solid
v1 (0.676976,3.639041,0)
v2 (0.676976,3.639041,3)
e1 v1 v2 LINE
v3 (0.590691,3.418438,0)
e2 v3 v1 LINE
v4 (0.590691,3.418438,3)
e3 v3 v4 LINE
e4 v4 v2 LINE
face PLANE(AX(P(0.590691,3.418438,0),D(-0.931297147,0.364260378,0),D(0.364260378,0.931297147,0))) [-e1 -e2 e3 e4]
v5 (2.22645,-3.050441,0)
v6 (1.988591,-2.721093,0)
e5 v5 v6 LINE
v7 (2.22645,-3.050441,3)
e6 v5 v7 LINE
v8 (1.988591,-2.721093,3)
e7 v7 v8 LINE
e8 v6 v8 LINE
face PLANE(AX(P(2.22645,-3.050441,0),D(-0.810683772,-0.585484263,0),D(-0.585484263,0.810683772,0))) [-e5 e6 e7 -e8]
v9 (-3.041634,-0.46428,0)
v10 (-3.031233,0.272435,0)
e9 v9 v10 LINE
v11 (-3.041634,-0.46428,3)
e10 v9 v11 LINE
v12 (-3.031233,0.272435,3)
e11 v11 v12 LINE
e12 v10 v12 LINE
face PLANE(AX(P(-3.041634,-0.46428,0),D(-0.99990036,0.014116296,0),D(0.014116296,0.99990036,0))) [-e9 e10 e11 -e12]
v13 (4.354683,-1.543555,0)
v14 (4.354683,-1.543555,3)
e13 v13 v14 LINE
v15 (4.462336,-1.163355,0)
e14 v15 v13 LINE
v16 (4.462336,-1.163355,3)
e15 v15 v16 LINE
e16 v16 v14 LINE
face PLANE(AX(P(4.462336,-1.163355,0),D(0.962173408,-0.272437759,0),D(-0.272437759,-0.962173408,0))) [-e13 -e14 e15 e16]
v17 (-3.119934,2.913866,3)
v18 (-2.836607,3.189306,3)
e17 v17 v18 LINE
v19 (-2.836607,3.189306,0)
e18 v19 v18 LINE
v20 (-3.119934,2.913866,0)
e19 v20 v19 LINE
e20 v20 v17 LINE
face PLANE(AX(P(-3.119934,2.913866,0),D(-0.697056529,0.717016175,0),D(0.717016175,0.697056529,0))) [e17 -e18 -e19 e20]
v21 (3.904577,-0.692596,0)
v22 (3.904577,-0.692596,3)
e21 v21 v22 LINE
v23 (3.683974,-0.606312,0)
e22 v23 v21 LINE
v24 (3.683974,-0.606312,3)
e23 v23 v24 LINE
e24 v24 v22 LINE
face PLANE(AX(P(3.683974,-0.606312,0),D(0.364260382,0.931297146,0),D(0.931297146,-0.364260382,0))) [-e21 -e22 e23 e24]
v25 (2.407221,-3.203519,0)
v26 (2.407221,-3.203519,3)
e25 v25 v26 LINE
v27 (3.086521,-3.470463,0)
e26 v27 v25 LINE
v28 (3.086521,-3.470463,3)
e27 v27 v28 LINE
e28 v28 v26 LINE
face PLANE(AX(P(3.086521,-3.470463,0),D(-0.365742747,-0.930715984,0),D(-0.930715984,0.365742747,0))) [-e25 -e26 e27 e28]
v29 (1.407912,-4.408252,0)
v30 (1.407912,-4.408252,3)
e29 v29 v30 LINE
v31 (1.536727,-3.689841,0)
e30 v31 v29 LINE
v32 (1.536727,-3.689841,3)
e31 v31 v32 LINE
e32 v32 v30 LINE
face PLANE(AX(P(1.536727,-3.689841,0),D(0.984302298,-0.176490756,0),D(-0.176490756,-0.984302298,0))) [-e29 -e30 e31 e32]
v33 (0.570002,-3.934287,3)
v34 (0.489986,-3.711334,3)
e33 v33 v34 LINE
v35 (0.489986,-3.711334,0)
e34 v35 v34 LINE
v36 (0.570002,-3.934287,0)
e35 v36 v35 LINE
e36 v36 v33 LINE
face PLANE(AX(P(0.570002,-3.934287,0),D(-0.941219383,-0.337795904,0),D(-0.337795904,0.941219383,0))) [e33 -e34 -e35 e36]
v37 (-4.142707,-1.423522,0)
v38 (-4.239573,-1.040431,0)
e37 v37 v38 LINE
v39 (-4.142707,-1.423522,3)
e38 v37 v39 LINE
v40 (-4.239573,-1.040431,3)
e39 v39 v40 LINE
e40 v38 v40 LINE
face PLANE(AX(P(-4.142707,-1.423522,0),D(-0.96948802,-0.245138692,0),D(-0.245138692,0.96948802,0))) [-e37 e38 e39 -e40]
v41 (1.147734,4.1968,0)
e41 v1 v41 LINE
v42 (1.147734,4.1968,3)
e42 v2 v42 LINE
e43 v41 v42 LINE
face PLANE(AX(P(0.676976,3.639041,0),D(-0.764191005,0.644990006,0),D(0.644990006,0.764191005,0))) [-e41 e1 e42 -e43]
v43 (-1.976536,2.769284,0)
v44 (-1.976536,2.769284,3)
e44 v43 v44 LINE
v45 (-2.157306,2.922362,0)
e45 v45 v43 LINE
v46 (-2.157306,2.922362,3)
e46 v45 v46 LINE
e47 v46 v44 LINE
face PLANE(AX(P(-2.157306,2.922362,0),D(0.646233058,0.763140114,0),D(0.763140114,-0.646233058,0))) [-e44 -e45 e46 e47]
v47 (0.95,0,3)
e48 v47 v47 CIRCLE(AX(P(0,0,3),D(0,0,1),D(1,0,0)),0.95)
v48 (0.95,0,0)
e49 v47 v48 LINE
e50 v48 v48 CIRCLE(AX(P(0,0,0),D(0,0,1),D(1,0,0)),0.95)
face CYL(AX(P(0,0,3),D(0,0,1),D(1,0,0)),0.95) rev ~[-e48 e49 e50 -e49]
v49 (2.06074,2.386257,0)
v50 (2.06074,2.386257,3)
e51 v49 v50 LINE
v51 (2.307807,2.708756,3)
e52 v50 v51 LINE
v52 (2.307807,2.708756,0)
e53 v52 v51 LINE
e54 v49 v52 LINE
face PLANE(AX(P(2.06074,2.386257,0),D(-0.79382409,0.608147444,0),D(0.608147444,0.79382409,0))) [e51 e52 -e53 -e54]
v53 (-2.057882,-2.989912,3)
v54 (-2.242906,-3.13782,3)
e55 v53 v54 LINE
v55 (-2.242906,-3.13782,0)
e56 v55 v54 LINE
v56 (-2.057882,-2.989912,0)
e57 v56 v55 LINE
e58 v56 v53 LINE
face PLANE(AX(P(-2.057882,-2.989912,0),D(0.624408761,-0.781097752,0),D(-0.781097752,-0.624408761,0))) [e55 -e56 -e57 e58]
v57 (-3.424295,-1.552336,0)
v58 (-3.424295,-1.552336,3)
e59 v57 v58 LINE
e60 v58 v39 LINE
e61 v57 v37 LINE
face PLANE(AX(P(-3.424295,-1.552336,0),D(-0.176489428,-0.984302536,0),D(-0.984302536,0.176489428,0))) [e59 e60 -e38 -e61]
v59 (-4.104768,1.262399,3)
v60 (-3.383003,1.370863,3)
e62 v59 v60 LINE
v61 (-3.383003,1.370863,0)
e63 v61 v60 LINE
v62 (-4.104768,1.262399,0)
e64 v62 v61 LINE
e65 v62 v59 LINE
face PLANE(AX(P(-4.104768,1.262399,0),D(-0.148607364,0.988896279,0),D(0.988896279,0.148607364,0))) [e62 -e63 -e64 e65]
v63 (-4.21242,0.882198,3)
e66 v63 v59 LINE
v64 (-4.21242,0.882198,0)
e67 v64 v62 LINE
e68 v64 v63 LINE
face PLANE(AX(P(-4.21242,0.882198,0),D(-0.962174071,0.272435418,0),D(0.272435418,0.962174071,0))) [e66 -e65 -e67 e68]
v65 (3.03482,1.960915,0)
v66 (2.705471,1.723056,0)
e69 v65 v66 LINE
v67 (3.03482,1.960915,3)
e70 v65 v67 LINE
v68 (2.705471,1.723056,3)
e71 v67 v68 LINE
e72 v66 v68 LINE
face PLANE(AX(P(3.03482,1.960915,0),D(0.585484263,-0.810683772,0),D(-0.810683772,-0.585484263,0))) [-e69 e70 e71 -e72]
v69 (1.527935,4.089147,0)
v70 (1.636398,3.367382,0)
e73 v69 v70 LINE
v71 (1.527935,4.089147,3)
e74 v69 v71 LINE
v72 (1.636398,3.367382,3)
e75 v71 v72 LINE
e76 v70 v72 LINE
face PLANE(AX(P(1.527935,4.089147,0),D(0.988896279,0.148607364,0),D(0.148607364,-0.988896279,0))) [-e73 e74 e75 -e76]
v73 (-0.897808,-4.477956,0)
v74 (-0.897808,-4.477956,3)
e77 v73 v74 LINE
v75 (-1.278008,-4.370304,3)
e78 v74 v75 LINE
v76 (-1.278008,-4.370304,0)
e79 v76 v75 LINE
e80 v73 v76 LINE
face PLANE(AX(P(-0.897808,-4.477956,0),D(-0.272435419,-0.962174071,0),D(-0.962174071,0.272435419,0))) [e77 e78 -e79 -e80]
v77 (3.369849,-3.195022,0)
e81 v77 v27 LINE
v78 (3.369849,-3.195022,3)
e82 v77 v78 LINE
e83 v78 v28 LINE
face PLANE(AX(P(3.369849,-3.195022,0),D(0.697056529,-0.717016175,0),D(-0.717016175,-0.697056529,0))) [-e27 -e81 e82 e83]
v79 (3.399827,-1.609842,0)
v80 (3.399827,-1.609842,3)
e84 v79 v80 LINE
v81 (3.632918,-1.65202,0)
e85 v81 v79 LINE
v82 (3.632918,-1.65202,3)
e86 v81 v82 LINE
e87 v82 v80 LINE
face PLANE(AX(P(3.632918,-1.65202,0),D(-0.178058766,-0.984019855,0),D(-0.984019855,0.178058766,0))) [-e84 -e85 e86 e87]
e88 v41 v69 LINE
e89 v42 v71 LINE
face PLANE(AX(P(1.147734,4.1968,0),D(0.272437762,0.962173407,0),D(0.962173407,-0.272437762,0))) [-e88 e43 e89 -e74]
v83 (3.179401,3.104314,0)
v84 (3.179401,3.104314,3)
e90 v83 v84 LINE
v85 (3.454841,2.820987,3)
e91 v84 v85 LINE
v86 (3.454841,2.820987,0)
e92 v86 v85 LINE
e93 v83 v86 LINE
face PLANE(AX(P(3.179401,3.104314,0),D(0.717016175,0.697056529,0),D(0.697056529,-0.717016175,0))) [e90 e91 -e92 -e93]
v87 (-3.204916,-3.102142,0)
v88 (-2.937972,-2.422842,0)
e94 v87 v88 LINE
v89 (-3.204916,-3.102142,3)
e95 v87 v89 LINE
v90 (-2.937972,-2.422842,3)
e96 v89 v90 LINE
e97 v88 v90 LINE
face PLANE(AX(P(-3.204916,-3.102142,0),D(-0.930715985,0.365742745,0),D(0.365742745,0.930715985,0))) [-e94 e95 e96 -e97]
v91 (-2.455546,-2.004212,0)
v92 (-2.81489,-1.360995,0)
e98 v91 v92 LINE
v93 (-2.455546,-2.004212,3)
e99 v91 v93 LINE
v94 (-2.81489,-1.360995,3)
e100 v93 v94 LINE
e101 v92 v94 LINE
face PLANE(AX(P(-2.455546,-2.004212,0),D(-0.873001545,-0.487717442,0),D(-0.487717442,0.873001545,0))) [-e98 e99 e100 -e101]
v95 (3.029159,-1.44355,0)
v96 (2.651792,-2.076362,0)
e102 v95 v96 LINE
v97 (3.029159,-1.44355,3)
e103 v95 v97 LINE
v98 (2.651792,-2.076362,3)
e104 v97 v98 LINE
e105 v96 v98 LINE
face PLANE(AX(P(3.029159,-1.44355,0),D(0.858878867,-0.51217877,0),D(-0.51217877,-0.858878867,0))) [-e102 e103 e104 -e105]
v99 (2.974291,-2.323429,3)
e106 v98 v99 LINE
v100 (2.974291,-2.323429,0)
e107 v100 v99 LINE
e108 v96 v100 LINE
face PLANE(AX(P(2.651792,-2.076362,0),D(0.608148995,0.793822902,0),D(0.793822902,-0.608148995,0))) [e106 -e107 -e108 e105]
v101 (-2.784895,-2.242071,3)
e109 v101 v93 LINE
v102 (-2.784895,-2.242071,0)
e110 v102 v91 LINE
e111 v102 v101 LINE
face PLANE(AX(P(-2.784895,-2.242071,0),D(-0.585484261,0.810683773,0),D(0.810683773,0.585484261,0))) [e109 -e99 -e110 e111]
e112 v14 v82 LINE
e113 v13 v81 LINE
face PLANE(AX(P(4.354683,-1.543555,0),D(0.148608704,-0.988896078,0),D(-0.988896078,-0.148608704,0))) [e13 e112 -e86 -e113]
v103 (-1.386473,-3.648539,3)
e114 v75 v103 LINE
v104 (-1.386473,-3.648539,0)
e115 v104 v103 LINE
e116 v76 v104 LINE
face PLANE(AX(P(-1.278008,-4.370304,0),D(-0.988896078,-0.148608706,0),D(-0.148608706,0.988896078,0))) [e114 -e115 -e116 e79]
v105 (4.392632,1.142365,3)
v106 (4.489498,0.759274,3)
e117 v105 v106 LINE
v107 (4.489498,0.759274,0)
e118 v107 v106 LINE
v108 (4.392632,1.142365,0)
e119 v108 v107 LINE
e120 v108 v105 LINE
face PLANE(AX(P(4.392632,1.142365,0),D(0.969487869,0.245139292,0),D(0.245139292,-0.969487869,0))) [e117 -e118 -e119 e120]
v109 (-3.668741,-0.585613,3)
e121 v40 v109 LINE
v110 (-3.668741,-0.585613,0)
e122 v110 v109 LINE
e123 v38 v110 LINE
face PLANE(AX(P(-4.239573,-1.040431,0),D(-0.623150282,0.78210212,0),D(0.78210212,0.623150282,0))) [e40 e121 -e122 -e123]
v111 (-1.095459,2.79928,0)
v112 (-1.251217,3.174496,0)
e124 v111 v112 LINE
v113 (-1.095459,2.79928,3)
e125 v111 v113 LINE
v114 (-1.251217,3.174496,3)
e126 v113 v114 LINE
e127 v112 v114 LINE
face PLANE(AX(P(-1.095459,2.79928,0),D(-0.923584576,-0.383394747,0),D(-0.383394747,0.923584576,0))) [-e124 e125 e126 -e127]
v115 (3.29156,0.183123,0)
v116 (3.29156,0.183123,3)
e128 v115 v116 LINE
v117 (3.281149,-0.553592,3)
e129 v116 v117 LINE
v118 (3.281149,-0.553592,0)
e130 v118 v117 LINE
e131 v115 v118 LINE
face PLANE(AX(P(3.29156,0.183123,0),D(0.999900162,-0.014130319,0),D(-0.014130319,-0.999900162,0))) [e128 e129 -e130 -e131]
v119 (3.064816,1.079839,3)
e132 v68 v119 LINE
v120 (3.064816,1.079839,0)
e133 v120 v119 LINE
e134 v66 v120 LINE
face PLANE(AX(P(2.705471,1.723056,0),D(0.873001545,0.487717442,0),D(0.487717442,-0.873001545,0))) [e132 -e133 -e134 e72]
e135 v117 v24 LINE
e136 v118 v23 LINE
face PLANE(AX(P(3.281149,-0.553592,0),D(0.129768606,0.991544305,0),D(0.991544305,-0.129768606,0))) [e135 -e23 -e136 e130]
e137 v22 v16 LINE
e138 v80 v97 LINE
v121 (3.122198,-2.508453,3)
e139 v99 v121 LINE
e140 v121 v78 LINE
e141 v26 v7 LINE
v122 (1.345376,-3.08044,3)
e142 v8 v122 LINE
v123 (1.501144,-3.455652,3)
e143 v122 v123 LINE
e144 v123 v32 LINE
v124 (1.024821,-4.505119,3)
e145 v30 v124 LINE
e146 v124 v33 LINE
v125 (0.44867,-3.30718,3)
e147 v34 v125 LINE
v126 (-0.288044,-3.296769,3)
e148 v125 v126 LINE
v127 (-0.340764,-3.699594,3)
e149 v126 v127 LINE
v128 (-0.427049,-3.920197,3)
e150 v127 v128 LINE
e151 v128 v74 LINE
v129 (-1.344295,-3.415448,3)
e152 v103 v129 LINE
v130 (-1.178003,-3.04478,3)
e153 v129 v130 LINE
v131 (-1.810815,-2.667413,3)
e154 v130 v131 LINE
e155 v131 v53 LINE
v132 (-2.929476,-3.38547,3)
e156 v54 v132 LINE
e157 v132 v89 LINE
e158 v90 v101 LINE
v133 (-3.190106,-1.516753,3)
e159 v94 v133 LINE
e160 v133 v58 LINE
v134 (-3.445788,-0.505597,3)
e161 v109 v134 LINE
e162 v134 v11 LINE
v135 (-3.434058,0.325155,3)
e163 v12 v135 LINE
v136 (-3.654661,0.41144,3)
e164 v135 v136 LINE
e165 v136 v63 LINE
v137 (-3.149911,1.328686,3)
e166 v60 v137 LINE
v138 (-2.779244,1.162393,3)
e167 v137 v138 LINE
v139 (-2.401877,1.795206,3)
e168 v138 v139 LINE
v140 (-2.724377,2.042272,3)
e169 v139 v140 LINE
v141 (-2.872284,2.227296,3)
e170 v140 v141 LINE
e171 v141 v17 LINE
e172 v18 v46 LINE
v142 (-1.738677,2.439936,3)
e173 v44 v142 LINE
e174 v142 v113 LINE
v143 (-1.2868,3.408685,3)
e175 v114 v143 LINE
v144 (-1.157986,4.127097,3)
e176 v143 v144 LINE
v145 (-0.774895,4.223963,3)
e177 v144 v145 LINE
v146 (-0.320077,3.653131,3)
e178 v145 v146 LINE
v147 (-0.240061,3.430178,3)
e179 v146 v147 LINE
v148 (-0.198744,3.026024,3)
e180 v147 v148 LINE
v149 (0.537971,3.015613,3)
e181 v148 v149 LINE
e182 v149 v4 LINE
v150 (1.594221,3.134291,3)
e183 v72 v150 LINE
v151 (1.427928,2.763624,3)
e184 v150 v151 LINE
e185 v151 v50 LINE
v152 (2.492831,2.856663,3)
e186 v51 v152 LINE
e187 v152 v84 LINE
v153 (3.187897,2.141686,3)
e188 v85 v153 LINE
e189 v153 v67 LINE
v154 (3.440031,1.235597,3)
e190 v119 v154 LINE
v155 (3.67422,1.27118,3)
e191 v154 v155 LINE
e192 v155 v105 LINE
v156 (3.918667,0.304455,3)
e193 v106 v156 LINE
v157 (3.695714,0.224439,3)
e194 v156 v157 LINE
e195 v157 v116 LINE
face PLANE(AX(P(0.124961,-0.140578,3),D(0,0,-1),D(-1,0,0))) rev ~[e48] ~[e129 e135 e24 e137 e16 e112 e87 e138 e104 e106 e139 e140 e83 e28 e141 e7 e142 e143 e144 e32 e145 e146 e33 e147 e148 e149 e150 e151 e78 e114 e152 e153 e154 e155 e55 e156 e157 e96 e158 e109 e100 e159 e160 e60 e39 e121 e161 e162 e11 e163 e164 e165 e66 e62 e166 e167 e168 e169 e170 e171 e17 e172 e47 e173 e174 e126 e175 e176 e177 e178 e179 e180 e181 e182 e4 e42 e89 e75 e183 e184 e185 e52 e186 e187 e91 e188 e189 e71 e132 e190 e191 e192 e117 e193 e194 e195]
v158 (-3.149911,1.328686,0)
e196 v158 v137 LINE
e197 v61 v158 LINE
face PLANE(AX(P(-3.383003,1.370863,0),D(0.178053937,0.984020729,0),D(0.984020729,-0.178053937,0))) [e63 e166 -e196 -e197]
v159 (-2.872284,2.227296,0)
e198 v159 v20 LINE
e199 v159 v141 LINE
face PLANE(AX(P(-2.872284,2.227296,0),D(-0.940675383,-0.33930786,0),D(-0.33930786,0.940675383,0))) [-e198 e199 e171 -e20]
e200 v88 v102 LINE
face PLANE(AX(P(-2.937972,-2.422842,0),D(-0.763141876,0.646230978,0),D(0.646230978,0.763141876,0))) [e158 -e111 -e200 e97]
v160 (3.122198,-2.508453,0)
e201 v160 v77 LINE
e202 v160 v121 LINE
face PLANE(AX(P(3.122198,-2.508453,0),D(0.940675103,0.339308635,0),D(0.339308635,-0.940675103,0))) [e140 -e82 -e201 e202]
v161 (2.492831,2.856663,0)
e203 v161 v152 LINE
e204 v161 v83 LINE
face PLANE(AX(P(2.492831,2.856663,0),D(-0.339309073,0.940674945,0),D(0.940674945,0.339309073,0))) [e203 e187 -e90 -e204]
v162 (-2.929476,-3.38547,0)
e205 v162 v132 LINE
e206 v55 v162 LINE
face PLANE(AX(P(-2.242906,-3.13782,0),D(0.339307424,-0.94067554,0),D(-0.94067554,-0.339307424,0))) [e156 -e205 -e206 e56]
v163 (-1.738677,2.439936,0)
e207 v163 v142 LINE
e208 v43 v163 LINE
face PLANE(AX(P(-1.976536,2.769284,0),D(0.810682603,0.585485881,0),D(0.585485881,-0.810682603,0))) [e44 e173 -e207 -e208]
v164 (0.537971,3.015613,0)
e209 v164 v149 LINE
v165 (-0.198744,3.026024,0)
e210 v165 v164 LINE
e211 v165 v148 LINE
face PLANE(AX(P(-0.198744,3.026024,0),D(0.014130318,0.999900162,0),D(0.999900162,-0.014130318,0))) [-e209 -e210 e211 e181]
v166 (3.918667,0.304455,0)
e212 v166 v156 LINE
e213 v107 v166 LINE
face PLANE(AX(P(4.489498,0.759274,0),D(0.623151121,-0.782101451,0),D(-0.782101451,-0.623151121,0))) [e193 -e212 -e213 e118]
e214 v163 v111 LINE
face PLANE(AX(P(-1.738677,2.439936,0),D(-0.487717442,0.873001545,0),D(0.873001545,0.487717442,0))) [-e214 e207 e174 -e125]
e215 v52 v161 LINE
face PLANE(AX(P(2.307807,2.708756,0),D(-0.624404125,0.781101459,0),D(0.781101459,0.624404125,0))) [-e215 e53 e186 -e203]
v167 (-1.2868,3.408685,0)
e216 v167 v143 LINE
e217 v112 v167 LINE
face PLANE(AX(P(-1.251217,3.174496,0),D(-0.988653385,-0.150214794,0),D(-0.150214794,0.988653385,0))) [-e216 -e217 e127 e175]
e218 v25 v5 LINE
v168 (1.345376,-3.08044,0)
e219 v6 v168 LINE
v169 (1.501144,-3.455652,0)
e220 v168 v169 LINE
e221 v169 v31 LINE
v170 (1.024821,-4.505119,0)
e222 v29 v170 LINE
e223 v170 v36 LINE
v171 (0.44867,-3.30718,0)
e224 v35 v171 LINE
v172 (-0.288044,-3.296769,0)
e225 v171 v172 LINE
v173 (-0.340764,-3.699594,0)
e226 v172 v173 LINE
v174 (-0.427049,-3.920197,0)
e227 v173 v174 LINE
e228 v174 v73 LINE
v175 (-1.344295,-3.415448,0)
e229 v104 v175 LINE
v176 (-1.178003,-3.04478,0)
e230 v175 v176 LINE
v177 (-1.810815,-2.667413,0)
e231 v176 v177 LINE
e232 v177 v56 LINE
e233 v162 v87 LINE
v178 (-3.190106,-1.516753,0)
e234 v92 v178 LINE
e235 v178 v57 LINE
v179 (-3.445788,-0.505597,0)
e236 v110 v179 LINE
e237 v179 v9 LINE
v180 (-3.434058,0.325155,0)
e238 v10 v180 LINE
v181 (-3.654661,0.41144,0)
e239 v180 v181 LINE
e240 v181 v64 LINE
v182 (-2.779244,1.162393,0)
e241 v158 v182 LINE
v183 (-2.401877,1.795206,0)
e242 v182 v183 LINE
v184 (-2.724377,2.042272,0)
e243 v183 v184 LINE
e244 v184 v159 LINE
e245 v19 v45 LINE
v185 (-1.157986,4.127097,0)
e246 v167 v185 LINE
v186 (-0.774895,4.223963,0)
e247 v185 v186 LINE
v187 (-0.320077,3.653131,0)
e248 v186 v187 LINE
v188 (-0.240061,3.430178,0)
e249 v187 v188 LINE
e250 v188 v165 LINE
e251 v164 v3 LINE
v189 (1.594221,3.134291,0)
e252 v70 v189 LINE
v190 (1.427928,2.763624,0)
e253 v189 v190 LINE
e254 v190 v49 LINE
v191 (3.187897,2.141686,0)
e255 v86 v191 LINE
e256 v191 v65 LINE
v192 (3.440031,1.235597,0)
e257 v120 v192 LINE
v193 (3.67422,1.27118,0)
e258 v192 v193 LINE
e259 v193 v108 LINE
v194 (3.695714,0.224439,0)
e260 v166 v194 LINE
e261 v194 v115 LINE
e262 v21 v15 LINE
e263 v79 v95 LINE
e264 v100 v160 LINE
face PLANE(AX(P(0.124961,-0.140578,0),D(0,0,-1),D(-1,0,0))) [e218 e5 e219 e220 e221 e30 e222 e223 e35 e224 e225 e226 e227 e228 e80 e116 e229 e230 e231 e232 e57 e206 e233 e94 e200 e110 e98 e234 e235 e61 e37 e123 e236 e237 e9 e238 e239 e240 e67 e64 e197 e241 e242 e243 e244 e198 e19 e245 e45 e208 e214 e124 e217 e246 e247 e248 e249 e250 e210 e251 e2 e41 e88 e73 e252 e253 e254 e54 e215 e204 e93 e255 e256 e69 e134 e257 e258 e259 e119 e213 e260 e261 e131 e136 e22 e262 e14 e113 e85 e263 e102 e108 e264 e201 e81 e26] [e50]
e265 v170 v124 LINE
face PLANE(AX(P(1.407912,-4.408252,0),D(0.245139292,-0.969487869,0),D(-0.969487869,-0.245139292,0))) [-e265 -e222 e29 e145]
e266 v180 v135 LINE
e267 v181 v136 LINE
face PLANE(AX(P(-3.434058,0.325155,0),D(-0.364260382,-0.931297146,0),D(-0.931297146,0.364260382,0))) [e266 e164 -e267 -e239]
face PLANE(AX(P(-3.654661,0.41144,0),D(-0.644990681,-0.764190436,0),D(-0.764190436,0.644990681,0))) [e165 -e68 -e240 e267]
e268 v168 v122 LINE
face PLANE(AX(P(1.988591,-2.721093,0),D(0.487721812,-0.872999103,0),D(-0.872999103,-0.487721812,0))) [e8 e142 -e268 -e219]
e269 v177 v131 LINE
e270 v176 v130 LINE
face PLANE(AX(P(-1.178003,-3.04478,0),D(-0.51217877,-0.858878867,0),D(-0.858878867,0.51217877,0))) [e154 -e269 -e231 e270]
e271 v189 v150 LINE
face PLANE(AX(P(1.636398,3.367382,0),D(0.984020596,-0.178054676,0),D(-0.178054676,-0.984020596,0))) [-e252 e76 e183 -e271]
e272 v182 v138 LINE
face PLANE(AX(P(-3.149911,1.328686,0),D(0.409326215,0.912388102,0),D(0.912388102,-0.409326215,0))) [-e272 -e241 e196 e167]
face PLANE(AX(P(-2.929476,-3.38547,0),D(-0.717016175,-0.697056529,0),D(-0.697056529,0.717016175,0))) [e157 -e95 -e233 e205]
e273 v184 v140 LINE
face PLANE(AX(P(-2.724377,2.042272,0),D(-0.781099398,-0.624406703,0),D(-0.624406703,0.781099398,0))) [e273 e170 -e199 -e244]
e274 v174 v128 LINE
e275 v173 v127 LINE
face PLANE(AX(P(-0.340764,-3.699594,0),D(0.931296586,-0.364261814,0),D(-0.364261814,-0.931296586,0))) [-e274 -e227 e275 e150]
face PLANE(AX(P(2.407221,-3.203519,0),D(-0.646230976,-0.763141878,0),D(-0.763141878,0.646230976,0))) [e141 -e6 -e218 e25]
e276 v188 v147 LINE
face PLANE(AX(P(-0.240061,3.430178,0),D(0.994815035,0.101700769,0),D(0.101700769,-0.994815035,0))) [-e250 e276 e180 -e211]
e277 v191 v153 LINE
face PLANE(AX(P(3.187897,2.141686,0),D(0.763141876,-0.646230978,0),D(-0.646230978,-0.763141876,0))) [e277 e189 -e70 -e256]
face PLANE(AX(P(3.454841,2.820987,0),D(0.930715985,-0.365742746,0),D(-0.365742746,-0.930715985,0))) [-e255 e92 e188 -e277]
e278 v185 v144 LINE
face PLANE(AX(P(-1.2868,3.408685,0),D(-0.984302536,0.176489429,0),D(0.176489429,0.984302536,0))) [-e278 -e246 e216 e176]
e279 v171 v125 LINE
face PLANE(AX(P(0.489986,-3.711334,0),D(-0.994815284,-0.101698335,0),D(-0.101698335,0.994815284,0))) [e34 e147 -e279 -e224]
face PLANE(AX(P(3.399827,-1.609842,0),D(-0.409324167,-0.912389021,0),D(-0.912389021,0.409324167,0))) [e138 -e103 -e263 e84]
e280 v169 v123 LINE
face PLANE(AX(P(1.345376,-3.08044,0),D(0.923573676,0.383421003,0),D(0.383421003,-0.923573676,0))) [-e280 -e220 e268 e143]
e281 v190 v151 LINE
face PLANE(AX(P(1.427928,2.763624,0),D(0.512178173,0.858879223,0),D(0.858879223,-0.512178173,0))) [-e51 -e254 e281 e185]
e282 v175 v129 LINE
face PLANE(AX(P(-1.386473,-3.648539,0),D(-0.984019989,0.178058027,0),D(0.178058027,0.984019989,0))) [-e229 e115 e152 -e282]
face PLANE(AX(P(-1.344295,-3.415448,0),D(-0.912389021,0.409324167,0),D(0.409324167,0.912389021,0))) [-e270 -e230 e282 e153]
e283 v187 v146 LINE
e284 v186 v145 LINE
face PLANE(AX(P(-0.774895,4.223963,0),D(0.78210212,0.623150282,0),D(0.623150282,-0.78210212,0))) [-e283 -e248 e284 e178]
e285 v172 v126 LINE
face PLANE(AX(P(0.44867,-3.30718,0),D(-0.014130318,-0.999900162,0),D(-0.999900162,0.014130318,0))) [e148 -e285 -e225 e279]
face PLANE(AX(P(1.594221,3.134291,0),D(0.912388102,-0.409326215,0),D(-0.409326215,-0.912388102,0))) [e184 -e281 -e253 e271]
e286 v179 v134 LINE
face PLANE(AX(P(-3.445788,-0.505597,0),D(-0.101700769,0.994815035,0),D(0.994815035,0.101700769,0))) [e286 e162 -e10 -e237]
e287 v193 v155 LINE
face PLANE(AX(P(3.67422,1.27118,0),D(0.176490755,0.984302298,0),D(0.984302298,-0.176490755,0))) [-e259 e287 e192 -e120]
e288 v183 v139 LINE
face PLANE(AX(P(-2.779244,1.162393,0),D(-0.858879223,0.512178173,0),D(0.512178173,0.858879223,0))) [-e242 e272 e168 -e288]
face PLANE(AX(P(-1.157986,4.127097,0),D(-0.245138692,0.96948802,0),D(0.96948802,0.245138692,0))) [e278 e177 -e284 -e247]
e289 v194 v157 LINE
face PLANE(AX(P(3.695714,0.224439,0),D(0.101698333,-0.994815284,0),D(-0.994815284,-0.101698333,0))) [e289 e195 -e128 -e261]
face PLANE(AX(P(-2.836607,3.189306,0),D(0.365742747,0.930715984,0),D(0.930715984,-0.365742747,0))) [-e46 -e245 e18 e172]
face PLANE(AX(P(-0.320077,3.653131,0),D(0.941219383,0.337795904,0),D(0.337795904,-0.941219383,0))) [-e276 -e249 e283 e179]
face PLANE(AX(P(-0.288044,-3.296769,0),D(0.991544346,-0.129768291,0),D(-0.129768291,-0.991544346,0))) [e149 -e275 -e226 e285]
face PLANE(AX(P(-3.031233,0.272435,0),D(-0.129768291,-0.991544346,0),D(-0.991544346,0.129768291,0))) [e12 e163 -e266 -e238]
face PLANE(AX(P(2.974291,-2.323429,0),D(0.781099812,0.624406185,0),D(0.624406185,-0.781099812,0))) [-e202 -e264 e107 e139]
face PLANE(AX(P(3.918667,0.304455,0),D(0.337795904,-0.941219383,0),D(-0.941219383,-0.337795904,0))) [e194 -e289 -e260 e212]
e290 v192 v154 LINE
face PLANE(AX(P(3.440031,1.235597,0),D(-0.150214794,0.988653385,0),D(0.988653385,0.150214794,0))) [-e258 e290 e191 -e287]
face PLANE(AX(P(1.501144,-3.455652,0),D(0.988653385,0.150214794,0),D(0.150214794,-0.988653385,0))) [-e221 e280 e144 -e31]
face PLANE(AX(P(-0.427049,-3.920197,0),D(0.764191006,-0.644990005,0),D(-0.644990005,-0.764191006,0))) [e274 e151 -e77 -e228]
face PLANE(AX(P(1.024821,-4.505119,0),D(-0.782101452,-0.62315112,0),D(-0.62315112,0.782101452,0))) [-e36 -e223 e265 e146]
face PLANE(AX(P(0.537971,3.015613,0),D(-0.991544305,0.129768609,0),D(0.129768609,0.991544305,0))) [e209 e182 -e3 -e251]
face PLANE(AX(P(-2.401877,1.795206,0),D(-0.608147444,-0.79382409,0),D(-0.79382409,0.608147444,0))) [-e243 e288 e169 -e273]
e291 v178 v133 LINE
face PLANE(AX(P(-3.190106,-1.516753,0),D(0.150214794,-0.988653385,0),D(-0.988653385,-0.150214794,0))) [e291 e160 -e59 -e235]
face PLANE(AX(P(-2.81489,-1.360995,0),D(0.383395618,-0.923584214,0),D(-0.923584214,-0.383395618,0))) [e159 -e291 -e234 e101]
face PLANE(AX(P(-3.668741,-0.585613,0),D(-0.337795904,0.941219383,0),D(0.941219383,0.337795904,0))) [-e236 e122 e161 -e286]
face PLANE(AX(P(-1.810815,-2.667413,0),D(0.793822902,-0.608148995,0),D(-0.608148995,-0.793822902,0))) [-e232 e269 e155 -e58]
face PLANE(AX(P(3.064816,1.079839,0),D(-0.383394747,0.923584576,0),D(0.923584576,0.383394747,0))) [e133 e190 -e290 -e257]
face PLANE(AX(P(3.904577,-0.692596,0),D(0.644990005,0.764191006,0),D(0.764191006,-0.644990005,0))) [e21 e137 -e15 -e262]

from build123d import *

# Parameters (mm, degrees)
BOSS_EXTRUDE1_DEPTH = 3
SKETCH2_R           = 0.95
CUT_EXTRUDE1_DEPTH  = 3


with BuildPart() as part:
    # Model → Boss-Extrude1 (new body)
    with BuildSketch(Plane.XY):
        Polygon((3.28114864, -0.553591744), (3.683973872, -0.606311596), (3.904576525, -0.692596416), (4.46233576, -1.16335455), (4.354682595, -1.543555198), (3.63291812, -1.652020067), (3.399826682, -1.609842083), (3.029159111, -1.443549864), (2.651791815, -2.076361715), (2.974290661, -2.323428597), (3.122197977, -2.508452992), (3.369848791, -3.195022478), (3.08652147, -3.47046279), (2.407220835, -3.20351854), (2.226450258, -3.050441439), (1.98859116, -2.721092688), (1.345375685, -3.080440385), (1.501144473, -3.455651839), (1.536726867, -3.689840852), (1.407911756, -4.40825247), (1.024820816, -4.505118707), (0.570002205, -3.934287195), (0.489986205, -3.711334195), (0.448670194, -3.307180093), (-0.288044489, -3.296769041), (-0.340764213, -3.69959429), (-0.427049372, -3.92019681), (-0.897807506, -4.477956045), (-1.278008415, -4.370303805), (-1.386473285, -3.64853933), (-1.344295476, -3.415447861), (-1.178003257, -3.04478029), (-1.810815108, -2.667412994), (-2.05788199, -2.98991184), (-2.242905897, -3.137819766), (-2.929475702, -3.385469696), (-3.204916014, -3.102142375), (-2.937971765, -2.422841739), (-2.784894663, -2.242071162), (-2.455545912, -2.004212065), (-2.814890389, -1.360994791), (-3.190106124, -1.516753266), (-3.424295137, -1.55233566), (-4.142706929, -1.423521518), (-4.239572929, -1.040430518), (-3.668740929, -0.585612518), (-3.445787929, -0.505596518), (-3.041633929, -0.464279518), (-3.031233208, 0.272435311), (-3.434058457, 0.325155035), (-3.65466111, 0.411439855), (-4.212419929, 0.882198482), (-4.104767689, 1.262399392), (-3.383003067, 1.370863283), (-3.149911423, 1.328686443), (-2.779244225, 1.162393392), (-2.401877369, 1.795205505), (-2.724376698, 2.042271757), (-2.872284136, 2.227296053), (-3.119934385, 2.913865744), (-2.836607064, 3.189306056), (-2.157306429, 2.922361806), (-1.976536269, 2.769284211), (-1.738676514, 2.439935935), (-1.09545924, 2.799280412), (-1.251217361, 3.174496294), (-1.286799755, 3.408685307), (-1.157985613, 4.127097098), (-0.774894613, 4.223963098), (-0.320076613, 3.653131098), (-0.240060613, 3.430178098), (-0.198743613, 3.026024098), (0.53797107, 3.015613046), (0.590690923, 3.418438278), (0.676975742, 3.639040931), (1.147733877, 4.196800166), (1.527934524, 4.089147), (1.636398415, 3.367382378), (1.5942214, 3.134290766), (1.427928349, 2.763623568), (2.060740462, 2.386256712), (2.307806714, 2.708756041), (2.492831498, 2.856662868), (3.179400869, 3.104314002), (3.454841181, 2.820986681), (3.187896932, 2.141686046), (3.03481983, 1.960915469), (2.705471079, 1.723056371), (3.064815556, 1.079839097), (3.440031438, 1.235597218), (3.674220451, 1.271179612), (4.392632069, 1.142364502), (4.489498306, 0.759273562), (3.918666794, 0.30445495), (3.695713794, 0.22443895), (3.291559693, 0.18312294), align=None)
    extrude(amount=BOSS_EXTRUDE1_DEPTH)

    # Sketch2 → Cut-Extrude1 (cut)
    with BuildSketch(Plane.XY.offset(3)):
        Circle(SKETCH2_R)
    extrude(amount=-CUT_EXTRUDE1_DEPTH, mode=Mode.SUBTRACT)


solid = part.part
